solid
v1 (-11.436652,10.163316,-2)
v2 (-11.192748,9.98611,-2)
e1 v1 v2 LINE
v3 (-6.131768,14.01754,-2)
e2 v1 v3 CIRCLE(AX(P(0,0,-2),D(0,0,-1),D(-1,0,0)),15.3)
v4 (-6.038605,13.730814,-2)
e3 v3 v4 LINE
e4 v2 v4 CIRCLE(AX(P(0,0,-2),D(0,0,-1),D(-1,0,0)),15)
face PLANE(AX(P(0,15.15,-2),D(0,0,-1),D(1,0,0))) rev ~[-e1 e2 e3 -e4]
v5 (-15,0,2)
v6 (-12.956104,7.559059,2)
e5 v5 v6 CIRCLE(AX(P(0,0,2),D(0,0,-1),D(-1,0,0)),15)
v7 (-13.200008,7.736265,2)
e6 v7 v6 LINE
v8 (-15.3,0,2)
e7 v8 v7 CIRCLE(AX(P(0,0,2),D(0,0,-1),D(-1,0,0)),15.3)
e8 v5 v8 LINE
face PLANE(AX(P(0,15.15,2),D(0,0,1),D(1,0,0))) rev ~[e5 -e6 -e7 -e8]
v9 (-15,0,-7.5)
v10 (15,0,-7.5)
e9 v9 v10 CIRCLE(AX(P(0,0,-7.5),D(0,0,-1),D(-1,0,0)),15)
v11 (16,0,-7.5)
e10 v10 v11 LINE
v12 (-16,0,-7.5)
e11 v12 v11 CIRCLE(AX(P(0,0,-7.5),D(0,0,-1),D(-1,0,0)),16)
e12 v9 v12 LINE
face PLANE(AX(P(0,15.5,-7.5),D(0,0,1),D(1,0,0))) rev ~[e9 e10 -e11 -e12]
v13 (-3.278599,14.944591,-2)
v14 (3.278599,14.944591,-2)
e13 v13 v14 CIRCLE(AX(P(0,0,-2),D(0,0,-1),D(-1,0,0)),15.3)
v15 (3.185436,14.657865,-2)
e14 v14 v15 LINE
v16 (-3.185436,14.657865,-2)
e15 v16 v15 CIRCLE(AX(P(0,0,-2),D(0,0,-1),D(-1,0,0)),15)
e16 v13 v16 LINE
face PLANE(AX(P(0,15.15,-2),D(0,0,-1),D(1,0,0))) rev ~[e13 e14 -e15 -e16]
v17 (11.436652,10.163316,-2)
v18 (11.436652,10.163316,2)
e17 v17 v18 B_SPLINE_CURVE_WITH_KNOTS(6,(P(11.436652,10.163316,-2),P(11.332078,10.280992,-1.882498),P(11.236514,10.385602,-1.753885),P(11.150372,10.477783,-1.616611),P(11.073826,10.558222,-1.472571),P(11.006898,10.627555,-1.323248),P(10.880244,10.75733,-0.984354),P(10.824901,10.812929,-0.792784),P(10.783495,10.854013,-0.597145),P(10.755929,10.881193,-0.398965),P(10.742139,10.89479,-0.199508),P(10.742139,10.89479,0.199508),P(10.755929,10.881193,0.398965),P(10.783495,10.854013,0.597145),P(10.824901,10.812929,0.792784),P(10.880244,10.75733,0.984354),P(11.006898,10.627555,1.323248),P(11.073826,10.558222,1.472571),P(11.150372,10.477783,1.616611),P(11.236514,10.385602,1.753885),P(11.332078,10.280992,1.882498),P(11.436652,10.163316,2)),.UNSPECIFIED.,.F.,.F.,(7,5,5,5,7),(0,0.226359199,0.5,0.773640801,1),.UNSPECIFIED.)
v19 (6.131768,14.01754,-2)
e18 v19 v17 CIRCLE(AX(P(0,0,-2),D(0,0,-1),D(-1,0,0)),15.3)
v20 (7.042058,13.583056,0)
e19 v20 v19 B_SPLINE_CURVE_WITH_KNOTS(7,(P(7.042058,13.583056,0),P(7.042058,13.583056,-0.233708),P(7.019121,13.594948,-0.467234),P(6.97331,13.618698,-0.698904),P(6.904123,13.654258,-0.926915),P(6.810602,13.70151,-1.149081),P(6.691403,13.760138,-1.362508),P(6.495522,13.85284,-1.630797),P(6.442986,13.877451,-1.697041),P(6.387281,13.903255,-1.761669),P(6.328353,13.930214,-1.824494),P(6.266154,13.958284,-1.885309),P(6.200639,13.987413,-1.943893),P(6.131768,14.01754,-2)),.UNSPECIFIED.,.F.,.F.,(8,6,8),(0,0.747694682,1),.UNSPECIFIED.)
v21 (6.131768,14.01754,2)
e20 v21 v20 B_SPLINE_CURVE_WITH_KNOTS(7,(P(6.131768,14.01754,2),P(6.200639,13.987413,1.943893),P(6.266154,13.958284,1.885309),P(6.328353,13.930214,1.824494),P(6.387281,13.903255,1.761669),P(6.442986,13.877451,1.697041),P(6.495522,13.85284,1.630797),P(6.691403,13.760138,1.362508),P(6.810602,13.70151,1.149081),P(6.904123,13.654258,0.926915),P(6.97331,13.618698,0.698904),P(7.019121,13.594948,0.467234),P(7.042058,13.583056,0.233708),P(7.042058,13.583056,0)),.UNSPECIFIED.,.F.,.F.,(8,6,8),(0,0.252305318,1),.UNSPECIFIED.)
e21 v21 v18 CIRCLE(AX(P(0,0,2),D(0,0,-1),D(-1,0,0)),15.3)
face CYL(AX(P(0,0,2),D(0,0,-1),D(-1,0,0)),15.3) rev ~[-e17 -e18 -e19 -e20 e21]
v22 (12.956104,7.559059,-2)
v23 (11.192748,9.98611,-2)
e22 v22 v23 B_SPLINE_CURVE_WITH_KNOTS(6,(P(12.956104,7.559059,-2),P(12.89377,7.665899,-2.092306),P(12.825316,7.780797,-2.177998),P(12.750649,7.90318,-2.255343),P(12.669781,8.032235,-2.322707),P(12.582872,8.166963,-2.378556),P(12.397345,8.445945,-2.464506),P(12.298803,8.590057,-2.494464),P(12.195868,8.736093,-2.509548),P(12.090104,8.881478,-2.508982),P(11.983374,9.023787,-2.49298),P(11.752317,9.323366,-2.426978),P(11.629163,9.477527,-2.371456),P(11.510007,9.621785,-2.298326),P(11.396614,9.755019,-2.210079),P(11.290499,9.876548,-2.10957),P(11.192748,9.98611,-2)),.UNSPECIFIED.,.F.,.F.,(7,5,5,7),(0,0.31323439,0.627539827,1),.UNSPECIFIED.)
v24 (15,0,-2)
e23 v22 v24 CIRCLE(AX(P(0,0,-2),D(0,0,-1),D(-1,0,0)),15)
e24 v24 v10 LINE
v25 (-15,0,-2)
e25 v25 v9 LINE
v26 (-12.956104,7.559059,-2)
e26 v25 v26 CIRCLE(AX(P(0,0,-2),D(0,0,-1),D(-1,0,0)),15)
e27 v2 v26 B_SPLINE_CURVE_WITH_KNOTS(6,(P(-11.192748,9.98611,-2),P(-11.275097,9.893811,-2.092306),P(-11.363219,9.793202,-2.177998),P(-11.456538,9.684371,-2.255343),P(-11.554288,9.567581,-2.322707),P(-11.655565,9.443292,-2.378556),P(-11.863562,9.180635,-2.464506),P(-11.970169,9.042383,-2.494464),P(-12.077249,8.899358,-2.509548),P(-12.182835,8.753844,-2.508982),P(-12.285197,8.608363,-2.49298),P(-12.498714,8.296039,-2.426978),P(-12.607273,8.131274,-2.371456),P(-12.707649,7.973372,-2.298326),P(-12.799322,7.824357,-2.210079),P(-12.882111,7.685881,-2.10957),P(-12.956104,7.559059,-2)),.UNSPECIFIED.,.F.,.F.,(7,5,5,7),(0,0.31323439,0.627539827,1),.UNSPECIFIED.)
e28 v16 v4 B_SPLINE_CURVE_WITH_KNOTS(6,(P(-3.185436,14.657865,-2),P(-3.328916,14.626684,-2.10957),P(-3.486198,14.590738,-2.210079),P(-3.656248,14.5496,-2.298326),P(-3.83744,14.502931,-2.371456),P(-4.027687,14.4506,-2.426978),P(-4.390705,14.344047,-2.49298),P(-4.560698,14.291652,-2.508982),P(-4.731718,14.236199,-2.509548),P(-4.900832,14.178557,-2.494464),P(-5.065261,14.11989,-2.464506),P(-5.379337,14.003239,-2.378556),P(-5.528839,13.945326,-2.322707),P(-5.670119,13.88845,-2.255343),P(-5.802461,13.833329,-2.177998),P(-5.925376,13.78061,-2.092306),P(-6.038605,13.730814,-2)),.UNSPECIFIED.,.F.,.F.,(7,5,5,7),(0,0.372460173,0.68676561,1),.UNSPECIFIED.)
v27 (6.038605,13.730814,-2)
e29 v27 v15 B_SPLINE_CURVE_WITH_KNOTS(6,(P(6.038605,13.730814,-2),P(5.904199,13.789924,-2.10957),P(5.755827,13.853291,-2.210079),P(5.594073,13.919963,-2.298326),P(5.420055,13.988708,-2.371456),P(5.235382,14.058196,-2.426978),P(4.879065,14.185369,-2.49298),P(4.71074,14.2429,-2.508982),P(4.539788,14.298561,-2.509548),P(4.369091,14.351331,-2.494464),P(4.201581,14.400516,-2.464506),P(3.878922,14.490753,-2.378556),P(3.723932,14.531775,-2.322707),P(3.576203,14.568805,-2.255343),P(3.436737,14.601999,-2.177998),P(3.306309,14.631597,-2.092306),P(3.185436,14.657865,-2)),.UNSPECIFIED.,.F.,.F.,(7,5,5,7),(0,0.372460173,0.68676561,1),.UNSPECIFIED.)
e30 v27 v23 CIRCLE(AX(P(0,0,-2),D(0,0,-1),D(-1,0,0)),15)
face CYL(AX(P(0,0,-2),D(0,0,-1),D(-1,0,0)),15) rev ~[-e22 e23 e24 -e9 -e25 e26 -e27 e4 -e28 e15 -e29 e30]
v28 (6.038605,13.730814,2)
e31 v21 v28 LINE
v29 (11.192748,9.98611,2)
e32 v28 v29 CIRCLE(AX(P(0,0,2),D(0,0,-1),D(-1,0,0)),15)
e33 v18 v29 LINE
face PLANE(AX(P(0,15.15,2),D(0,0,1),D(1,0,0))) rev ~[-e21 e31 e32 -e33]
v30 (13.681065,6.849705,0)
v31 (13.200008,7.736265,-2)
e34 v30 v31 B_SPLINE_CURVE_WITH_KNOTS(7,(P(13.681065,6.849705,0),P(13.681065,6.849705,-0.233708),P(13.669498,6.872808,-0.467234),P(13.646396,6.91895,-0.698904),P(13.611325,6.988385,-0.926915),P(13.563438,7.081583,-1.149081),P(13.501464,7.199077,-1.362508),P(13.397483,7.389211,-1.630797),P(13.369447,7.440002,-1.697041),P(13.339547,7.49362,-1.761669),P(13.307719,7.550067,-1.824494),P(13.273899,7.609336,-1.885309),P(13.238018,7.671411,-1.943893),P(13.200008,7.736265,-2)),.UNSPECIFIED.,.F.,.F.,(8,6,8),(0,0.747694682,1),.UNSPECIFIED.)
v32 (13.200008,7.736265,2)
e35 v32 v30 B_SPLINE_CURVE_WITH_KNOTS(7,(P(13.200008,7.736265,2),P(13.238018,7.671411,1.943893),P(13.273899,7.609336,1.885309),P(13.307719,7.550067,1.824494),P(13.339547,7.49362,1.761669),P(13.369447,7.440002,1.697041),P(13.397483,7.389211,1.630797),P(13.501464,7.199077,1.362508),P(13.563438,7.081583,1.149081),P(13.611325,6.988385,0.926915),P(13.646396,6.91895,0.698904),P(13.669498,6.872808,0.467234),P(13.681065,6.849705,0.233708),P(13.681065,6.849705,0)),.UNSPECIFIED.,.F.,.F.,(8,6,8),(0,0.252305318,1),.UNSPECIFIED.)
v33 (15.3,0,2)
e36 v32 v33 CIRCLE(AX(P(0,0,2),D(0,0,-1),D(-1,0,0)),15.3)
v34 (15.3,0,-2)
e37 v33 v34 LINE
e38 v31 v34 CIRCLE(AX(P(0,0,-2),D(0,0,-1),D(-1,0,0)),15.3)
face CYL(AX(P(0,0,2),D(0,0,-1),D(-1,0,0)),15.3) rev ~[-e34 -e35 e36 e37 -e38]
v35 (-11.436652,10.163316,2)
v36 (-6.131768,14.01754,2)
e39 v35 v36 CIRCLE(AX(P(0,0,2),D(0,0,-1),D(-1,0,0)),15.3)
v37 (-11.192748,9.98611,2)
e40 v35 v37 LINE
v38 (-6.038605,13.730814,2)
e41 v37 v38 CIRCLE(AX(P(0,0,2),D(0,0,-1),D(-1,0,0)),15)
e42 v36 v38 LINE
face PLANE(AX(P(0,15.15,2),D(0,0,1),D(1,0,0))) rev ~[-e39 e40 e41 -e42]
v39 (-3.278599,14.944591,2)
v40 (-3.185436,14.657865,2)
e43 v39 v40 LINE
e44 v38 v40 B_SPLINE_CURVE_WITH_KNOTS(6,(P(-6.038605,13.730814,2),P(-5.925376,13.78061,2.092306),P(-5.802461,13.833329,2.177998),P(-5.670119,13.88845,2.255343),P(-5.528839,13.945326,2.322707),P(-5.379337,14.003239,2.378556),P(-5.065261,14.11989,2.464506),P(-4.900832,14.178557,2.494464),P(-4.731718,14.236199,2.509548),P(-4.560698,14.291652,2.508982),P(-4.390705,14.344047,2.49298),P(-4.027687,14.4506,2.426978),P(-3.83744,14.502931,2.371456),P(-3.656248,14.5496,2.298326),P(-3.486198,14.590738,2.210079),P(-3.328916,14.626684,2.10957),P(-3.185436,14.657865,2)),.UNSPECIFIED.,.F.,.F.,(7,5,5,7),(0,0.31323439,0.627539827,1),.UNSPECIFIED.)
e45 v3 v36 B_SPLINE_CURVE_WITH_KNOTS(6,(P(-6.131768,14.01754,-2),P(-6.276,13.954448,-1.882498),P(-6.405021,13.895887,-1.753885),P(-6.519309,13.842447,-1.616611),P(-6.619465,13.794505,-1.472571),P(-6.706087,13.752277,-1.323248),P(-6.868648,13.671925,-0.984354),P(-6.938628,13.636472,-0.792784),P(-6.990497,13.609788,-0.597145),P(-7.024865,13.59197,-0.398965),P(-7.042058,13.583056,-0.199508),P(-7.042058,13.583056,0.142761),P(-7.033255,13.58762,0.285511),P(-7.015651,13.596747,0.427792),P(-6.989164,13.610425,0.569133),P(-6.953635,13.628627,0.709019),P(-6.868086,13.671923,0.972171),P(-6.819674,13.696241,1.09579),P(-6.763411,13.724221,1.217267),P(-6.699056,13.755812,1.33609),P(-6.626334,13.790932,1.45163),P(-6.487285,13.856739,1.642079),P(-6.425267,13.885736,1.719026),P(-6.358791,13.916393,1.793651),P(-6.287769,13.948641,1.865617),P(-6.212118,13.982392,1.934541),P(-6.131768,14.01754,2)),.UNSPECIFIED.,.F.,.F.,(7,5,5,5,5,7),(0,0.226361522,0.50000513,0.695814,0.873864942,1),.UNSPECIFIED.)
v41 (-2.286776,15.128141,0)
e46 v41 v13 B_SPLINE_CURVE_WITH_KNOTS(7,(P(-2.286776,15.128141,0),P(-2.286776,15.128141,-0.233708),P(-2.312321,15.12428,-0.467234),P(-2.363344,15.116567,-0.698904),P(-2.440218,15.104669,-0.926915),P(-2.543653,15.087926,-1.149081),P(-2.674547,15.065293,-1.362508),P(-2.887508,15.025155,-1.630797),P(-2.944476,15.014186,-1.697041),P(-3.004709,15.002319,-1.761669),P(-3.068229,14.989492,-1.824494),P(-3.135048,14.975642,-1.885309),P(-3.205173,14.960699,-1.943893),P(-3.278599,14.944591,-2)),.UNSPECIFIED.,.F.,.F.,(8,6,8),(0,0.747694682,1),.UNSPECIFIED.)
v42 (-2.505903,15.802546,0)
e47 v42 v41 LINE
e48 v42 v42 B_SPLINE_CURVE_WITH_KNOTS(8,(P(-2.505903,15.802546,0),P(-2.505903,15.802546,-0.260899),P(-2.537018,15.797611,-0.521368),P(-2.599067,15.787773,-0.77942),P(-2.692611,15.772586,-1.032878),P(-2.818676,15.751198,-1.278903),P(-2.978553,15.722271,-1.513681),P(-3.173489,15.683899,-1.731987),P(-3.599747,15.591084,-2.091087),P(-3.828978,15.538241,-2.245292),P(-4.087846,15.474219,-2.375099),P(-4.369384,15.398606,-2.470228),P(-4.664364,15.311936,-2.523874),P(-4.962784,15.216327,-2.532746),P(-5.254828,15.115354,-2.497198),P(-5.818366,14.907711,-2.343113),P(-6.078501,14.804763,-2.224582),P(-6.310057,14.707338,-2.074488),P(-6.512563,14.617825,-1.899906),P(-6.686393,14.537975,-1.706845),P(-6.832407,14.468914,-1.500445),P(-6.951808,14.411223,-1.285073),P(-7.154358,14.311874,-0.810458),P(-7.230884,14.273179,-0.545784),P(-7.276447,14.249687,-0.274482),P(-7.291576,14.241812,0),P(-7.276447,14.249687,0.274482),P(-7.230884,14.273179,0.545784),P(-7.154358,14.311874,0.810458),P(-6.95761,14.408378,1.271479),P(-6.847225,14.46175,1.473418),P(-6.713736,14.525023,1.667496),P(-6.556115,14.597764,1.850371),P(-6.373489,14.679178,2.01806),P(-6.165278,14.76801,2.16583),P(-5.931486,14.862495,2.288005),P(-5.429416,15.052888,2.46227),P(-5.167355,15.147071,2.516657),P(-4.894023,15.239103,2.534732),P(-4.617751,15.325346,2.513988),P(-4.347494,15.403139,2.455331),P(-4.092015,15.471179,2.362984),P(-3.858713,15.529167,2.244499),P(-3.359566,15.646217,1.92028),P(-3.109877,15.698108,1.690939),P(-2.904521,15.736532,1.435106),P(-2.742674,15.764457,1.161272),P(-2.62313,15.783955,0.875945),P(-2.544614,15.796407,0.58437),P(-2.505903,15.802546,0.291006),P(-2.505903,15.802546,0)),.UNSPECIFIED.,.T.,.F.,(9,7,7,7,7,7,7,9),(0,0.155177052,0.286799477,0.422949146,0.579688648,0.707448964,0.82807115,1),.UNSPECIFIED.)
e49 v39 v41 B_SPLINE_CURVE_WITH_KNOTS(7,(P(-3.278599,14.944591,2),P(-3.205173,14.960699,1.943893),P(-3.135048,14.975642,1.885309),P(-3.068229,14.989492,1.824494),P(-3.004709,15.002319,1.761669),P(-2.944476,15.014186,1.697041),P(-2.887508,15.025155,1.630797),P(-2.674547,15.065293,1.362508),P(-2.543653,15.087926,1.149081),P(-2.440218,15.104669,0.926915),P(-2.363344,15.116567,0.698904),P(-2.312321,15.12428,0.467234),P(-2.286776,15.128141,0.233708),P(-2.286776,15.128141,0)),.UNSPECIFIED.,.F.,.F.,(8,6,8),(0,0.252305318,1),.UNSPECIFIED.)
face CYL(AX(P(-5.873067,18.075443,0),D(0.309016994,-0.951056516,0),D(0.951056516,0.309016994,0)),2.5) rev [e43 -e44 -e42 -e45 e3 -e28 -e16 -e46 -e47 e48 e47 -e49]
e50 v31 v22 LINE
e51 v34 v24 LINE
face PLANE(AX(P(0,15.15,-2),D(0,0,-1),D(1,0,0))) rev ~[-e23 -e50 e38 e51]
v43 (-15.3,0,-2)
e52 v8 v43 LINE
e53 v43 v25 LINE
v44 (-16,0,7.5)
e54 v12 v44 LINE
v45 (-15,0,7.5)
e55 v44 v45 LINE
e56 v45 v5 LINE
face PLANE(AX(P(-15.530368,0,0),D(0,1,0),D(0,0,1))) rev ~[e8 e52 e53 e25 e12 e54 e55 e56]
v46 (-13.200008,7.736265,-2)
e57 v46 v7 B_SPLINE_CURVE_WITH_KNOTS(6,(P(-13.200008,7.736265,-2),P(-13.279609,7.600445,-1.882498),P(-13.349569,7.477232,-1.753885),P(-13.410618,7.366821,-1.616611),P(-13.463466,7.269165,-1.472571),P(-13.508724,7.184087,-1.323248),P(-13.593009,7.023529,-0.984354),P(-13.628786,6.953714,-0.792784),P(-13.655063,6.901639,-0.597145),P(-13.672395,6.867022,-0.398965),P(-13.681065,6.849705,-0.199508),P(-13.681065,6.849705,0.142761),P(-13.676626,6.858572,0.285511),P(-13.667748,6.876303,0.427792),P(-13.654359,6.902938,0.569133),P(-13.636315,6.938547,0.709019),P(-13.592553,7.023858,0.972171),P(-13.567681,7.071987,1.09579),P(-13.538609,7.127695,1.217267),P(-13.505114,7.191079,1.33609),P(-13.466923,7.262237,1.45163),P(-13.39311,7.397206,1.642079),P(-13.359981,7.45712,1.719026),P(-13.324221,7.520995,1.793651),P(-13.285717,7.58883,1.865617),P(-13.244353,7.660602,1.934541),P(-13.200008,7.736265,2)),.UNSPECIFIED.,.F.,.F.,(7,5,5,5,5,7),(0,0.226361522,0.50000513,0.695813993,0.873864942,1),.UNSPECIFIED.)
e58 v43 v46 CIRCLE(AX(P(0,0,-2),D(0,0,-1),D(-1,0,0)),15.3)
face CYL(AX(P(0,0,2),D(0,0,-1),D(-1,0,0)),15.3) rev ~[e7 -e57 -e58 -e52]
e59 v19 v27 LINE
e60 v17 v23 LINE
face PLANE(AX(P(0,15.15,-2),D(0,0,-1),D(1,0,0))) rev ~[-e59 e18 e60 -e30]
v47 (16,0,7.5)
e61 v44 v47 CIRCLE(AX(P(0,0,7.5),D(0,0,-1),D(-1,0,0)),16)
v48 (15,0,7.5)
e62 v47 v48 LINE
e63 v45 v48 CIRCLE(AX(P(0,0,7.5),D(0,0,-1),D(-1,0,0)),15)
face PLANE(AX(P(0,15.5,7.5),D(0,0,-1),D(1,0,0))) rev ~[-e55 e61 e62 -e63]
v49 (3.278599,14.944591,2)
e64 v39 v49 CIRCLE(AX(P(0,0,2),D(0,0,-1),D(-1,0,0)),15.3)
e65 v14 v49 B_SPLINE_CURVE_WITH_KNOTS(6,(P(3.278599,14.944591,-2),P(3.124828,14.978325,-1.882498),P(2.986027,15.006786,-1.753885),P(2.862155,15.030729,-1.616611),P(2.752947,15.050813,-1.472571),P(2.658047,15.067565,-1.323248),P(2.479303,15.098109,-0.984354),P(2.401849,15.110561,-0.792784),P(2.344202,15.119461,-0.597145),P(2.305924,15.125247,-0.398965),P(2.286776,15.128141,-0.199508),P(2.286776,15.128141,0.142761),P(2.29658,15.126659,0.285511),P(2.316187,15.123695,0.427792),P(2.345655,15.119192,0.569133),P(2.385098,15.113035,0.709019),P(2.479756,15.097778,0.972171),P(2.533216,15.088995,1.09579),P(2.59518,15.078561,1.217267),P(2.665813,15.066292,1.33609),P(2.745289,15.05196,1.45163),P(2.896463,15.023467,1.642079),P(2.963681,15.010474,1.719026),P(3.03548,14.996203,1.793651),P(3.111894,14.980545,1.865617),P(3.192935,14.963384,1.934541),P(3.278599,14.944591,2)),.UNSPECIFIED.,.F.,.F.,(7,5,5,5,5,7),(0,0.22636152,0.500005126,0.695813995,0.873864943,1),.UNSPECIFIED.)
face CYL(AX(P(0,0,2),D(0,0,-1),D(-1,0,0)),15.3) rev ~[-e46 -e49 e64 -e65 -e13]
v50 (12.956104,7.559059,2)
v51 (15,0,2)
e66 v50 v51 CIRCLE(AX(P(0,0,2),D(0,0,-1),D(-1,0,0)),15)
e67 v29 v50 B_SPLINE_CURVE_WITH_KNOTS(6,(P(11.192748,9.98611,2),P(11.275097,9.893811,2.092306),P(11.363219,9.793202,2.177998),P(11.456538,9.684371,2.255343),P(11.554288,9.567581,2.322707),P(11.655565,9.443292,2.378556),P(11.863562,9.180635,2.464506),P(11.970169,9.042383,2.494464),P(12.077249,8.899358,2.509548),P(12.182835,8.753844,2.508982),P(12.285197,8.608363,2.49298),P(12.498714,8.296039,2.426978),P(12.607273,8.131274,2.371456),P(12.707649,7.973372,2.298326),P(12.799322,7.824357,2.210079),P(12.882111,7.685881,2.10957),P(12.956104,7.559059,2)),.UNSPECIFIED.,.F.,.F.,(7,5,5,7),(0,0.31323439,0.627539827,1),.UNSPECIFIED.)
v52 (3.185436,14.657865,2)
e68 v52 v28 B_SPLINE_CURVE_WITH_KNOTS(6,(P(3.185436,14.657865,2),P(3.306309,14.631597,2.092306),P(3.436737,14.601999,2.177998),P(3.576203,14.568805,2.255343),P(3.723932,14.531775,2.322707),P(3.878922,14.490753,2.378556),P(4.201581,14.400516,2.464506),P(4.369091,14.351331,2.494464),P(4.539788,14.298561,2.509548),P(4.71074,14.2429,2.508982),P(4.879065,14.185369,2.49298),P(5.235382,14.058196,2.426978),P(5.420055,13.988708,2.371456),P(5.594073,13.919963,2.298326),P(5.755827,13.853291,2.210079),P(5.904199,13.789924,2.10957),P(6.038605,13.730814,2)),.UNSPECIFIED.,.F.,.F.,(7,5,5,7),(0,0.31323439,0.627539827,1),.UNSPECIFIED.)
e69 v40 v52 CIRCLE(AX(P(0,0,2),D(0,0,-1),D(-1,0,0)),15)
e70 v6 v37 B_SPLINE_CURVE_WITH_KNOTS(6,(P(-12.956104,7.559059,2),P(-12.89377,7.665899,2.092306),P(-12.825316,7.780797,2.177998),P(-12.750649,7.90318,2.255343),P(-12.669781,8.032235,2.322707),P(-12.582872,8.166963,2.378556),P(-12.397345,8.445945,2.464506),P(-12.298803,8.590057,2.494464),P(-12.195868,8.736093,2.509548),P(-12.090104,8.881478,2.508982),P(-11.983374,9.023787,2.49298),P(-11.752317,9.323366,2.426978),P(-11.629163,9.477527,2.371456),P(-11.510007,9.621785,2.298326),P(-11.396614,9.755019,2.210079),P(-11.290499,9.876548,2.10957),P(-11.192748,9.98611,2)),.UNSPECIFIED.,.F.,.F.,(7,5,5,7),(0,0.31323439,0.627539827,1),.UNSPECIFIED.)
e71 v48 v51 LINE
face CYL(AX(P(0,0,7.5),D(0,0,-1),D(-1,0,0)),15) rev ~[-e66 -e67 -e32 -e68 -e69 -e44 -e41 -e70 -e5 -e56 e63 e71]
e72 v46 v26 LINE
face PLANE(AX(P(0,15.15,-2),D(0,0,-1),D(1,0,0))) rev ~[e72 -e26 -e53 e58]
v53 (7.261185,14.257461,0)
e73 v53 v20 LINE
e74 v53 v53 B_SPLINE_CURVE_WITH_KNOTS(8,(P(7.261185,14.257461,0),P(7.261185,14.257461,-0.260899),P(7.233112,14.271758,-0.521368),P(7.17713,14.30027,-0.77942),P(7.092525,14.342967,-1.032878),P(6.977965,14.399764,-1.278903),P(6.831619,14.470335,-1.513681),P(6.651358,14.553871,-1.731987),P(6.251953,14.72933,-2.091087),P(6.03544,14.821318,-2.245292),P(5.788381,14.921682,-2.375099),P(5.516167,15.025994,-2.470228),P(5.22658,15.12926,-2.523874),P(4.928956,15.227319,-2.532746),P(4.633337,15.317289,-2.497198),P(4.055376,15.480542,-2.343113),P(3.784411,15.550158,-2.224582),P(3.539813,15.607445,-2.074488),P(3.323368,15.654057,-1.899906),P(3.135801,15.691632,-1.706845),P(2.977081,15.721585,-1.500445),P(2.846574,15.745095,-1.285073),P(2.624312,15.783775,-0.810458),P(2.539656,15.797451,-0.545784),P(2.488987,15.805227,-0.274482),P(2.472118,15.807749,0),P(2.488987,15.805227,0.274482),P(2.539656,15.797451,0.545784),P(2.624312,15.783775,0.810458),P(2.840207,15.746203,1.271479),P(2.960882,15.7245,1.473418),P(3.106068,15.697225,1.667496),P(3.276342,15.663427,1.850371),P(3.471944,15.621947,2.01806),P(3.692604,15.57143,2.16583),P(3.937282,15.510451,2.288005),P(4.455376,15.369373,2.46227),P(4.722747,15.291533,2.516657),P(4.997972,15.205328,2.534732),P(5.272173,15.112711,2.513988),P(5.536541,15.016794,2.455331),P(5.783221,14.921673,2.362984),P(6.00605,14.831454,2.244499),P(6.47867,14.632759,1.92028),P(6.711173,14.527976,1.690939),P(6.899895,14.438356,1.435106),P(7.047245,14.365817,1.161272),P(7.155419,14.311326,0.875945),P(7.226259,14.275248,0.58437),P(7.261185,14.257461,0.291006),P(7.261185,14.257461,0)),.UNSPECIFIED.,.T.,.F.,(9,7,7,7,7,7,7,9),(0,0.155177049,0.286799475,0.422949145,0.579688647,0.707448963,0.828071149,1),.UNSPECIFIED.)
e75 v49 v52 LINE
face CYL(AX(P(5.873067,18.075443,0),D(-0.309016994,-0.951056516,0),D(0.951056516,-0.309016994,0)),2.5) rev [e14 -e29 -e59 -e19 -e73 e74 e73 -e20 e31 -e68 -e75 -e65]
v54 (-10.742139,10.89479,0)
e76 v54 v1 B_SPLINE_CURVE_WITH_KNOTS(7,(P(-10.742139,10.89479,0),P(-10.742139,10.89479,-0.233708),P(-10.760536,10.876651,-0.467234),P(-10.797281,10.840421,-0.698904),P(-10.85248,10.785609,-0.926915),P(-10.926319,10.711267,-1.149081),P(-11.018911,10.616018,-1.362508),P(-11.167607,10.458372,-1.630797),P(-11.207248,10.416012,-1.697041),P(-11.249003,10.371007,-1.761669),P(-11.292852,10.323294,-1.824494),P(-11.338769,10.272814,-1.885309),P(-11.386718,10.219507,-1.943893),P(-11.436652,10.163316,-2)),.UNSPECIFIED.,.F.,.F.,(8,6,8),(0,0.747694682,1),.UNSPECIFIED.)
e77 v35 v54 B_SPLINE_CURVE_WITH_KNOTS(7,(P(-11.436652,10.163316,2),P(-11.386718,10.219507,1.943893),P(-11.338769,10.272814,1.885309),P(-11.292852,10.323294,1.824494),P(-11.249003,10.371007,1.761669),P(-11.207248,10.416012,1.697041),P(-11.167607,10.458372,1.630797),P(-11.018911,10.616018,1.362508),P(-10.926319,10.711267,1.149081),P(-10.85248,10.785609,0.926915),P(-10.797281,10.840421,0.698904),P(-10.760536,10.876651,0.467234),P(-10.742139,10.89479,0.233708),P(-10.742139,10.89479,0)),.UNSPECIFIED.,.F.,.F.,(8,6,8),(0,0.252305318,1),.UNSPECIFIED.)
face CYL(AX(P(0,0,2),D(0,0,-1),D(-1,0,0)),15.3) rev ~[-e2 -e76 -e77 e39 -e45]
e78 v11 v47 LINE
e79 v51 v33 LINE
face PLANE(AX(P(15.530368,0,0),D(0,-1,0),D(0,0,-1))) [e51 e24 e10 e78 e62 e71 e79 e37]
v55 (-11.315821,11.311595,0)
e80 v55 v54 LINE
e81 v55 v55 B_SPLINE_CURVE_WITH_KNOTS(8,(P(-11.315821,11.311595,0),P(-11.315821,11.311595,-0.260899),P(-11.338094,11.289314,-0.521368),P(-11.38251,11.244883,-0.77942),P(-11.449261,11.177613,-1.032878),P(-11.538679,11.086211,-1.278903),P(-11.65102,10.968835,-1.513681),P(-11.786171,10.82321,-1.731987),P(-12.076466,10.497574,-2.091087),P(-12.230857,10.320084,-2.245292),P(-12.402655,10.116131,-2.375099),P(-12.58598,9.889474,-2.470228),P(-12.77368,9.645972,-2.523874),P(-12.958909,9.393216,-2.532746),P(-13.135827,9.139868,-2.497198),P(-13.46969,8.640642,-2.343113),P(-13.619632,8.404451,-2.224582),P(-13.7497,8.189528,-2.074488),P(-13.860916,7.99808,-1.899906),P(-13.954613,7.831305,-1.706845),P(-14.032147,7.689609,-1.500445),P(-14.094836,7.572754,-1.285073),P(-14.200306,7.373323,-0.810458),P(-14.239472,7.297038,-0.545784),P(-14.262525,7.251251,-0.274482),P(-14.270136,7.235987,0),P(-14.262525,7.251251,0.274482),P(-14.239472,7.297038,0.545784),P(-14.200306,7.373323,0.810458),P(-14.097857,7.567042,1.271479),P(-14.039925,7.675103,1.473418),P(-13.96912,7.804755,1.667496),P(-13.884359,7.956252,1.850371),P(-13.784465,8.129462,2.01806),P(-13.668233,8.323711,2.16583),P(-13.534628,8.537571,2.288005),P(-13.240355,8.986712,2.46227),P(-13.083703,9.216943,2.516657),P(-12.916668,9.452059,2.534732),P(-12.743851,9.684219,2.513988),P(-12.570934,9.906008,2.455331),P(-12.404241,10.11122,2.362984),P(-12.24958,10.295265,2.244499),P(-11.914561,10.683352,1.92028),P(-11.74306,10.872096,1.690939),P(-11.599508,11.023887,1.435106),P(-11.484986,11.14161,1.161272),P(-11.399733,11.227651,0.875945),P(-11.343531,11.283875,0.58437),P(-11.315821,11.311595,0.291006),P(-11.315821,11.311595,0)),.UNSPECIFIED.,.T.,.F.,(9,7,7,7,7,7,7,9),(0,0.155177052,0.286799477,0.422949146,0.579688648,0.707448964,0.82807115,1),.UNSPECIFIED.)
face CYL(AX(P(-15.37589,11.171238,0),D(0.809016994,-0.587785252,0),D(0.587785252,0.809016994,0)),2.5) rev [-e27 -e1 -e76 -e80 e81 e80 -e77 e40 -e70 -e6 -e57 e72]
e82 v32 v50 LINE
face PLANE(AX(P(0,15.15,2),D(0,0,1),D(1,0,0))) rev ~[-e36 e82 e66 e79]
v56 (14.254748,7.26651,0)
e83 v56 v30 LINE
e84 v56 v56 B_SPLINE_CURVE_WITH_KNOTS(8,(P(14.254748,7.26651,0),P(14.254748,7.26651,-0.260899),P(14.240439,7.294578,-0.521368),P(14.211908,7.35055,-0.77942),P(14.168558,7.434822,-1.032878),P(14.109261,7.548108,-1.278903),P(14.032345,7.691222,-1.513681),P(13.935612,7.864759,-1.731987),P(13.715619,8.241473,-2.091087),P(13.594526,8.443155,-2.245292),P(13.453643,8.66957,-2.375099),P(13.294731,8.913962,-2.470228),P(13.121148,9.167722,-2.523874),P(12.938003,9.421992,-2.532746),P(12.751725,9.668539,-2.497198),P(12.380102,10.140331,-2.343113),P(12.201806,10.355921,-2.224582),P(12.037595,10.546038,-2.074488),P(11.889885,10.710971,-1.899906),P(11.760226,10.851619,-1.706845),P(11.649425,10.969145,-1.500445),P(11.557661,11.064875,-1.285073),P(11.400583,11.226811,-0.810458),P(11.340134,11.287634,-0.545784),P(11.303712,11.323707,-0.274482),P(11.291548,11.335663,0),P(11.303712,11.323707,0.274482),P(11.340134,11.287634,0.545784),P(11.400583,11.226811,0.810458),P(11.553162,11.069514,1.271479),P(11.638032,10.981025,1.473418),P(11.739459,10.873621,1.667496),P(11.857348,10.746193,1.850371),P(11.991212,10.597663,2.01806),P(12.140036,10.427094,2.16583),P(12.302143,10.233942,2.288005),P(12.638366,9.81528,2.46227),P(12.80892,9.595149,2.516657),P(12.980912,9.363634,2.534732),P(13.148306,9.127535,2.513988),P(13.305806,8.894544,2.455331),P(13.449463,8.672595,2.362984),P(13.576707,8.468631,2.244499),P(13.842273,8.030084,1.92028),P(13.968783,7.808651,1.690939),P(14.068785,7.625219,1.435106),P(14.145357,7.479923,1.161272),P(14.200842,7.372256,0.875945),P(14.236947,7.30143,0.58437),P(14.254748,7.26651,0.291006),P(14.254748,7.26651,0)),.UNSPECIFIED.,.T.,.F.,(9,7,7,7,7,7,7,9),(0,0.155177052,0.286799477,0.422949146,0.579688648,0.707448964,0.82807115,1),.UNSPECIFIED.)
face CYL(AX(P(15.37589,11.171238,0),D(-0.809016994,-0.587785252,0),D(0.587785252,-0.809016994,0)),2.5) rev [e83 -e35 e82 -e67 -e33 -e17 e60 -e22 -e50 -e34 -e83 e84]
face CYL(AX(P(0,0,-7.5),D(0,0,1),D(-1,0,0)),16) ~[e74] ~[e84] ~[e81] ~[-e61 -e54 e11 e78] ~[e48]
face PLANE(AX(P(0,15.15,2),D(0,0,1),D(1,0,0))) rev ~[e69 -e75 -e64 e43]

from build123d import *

# Parameters (mm, degrees)
CIRPATTERN1_COUNT = 4
CIRPATTERN1_ANGLE = 108


with BuildPart() as part:
    # Sweep1: sweep along a path in Sketch1
    with BuildLine(Plane.XY) as sweep1_path:
        ThreePointArc((-16, 0), (0, 16), (16, 0))
    # Sketch2 → Sweep1 (sweep)
    with BuildSketch(Plane(origin=(0, 0, 0), x_dir=(1, 0, 0), z_dir=(0, 1, 0))):
        Polygon((-15, -7.5), (-15, -2), (-15.3, -2), (-15.3, 2), (-15, 2), (-15, 7.5), (-16, 7.5), (-16, -7.5), align=None)
    sweep(path=sweep1_path.line)

    # Sketch3 → Cut-Revolve1 (revolve, cut)
    with BuildSketch(Plane.XY):
        Polygon((9.819754909, 7.134469556), (15.375889989, 11.171237983), (16.84535312, 9.148695497), (11.28921804, 5.11192707), align=None)
    cut_revolve1 = revolve(axis=Axis((9.819754909, 7.134469556, 0), (0.8090169943749488, 0.5877852522924712, 0)), mode=Mode.SUBTRACT)

    # CirPattern1: Cut-Revolve1 ×4 about axis
    cirpattern1_axis = Axis((0, 0, -11.55), (0, 0, 1))
    for i in range(1, CIRPATTERN1_COUNT):
        add(cut_revolve1.rotate(cirpattern1_axis, i * CIRPATTERN1_ANGLE / (CIRPATTERN1_COUNT - 1)), mode=Mode.SUBTRACT)


solid = part.part
